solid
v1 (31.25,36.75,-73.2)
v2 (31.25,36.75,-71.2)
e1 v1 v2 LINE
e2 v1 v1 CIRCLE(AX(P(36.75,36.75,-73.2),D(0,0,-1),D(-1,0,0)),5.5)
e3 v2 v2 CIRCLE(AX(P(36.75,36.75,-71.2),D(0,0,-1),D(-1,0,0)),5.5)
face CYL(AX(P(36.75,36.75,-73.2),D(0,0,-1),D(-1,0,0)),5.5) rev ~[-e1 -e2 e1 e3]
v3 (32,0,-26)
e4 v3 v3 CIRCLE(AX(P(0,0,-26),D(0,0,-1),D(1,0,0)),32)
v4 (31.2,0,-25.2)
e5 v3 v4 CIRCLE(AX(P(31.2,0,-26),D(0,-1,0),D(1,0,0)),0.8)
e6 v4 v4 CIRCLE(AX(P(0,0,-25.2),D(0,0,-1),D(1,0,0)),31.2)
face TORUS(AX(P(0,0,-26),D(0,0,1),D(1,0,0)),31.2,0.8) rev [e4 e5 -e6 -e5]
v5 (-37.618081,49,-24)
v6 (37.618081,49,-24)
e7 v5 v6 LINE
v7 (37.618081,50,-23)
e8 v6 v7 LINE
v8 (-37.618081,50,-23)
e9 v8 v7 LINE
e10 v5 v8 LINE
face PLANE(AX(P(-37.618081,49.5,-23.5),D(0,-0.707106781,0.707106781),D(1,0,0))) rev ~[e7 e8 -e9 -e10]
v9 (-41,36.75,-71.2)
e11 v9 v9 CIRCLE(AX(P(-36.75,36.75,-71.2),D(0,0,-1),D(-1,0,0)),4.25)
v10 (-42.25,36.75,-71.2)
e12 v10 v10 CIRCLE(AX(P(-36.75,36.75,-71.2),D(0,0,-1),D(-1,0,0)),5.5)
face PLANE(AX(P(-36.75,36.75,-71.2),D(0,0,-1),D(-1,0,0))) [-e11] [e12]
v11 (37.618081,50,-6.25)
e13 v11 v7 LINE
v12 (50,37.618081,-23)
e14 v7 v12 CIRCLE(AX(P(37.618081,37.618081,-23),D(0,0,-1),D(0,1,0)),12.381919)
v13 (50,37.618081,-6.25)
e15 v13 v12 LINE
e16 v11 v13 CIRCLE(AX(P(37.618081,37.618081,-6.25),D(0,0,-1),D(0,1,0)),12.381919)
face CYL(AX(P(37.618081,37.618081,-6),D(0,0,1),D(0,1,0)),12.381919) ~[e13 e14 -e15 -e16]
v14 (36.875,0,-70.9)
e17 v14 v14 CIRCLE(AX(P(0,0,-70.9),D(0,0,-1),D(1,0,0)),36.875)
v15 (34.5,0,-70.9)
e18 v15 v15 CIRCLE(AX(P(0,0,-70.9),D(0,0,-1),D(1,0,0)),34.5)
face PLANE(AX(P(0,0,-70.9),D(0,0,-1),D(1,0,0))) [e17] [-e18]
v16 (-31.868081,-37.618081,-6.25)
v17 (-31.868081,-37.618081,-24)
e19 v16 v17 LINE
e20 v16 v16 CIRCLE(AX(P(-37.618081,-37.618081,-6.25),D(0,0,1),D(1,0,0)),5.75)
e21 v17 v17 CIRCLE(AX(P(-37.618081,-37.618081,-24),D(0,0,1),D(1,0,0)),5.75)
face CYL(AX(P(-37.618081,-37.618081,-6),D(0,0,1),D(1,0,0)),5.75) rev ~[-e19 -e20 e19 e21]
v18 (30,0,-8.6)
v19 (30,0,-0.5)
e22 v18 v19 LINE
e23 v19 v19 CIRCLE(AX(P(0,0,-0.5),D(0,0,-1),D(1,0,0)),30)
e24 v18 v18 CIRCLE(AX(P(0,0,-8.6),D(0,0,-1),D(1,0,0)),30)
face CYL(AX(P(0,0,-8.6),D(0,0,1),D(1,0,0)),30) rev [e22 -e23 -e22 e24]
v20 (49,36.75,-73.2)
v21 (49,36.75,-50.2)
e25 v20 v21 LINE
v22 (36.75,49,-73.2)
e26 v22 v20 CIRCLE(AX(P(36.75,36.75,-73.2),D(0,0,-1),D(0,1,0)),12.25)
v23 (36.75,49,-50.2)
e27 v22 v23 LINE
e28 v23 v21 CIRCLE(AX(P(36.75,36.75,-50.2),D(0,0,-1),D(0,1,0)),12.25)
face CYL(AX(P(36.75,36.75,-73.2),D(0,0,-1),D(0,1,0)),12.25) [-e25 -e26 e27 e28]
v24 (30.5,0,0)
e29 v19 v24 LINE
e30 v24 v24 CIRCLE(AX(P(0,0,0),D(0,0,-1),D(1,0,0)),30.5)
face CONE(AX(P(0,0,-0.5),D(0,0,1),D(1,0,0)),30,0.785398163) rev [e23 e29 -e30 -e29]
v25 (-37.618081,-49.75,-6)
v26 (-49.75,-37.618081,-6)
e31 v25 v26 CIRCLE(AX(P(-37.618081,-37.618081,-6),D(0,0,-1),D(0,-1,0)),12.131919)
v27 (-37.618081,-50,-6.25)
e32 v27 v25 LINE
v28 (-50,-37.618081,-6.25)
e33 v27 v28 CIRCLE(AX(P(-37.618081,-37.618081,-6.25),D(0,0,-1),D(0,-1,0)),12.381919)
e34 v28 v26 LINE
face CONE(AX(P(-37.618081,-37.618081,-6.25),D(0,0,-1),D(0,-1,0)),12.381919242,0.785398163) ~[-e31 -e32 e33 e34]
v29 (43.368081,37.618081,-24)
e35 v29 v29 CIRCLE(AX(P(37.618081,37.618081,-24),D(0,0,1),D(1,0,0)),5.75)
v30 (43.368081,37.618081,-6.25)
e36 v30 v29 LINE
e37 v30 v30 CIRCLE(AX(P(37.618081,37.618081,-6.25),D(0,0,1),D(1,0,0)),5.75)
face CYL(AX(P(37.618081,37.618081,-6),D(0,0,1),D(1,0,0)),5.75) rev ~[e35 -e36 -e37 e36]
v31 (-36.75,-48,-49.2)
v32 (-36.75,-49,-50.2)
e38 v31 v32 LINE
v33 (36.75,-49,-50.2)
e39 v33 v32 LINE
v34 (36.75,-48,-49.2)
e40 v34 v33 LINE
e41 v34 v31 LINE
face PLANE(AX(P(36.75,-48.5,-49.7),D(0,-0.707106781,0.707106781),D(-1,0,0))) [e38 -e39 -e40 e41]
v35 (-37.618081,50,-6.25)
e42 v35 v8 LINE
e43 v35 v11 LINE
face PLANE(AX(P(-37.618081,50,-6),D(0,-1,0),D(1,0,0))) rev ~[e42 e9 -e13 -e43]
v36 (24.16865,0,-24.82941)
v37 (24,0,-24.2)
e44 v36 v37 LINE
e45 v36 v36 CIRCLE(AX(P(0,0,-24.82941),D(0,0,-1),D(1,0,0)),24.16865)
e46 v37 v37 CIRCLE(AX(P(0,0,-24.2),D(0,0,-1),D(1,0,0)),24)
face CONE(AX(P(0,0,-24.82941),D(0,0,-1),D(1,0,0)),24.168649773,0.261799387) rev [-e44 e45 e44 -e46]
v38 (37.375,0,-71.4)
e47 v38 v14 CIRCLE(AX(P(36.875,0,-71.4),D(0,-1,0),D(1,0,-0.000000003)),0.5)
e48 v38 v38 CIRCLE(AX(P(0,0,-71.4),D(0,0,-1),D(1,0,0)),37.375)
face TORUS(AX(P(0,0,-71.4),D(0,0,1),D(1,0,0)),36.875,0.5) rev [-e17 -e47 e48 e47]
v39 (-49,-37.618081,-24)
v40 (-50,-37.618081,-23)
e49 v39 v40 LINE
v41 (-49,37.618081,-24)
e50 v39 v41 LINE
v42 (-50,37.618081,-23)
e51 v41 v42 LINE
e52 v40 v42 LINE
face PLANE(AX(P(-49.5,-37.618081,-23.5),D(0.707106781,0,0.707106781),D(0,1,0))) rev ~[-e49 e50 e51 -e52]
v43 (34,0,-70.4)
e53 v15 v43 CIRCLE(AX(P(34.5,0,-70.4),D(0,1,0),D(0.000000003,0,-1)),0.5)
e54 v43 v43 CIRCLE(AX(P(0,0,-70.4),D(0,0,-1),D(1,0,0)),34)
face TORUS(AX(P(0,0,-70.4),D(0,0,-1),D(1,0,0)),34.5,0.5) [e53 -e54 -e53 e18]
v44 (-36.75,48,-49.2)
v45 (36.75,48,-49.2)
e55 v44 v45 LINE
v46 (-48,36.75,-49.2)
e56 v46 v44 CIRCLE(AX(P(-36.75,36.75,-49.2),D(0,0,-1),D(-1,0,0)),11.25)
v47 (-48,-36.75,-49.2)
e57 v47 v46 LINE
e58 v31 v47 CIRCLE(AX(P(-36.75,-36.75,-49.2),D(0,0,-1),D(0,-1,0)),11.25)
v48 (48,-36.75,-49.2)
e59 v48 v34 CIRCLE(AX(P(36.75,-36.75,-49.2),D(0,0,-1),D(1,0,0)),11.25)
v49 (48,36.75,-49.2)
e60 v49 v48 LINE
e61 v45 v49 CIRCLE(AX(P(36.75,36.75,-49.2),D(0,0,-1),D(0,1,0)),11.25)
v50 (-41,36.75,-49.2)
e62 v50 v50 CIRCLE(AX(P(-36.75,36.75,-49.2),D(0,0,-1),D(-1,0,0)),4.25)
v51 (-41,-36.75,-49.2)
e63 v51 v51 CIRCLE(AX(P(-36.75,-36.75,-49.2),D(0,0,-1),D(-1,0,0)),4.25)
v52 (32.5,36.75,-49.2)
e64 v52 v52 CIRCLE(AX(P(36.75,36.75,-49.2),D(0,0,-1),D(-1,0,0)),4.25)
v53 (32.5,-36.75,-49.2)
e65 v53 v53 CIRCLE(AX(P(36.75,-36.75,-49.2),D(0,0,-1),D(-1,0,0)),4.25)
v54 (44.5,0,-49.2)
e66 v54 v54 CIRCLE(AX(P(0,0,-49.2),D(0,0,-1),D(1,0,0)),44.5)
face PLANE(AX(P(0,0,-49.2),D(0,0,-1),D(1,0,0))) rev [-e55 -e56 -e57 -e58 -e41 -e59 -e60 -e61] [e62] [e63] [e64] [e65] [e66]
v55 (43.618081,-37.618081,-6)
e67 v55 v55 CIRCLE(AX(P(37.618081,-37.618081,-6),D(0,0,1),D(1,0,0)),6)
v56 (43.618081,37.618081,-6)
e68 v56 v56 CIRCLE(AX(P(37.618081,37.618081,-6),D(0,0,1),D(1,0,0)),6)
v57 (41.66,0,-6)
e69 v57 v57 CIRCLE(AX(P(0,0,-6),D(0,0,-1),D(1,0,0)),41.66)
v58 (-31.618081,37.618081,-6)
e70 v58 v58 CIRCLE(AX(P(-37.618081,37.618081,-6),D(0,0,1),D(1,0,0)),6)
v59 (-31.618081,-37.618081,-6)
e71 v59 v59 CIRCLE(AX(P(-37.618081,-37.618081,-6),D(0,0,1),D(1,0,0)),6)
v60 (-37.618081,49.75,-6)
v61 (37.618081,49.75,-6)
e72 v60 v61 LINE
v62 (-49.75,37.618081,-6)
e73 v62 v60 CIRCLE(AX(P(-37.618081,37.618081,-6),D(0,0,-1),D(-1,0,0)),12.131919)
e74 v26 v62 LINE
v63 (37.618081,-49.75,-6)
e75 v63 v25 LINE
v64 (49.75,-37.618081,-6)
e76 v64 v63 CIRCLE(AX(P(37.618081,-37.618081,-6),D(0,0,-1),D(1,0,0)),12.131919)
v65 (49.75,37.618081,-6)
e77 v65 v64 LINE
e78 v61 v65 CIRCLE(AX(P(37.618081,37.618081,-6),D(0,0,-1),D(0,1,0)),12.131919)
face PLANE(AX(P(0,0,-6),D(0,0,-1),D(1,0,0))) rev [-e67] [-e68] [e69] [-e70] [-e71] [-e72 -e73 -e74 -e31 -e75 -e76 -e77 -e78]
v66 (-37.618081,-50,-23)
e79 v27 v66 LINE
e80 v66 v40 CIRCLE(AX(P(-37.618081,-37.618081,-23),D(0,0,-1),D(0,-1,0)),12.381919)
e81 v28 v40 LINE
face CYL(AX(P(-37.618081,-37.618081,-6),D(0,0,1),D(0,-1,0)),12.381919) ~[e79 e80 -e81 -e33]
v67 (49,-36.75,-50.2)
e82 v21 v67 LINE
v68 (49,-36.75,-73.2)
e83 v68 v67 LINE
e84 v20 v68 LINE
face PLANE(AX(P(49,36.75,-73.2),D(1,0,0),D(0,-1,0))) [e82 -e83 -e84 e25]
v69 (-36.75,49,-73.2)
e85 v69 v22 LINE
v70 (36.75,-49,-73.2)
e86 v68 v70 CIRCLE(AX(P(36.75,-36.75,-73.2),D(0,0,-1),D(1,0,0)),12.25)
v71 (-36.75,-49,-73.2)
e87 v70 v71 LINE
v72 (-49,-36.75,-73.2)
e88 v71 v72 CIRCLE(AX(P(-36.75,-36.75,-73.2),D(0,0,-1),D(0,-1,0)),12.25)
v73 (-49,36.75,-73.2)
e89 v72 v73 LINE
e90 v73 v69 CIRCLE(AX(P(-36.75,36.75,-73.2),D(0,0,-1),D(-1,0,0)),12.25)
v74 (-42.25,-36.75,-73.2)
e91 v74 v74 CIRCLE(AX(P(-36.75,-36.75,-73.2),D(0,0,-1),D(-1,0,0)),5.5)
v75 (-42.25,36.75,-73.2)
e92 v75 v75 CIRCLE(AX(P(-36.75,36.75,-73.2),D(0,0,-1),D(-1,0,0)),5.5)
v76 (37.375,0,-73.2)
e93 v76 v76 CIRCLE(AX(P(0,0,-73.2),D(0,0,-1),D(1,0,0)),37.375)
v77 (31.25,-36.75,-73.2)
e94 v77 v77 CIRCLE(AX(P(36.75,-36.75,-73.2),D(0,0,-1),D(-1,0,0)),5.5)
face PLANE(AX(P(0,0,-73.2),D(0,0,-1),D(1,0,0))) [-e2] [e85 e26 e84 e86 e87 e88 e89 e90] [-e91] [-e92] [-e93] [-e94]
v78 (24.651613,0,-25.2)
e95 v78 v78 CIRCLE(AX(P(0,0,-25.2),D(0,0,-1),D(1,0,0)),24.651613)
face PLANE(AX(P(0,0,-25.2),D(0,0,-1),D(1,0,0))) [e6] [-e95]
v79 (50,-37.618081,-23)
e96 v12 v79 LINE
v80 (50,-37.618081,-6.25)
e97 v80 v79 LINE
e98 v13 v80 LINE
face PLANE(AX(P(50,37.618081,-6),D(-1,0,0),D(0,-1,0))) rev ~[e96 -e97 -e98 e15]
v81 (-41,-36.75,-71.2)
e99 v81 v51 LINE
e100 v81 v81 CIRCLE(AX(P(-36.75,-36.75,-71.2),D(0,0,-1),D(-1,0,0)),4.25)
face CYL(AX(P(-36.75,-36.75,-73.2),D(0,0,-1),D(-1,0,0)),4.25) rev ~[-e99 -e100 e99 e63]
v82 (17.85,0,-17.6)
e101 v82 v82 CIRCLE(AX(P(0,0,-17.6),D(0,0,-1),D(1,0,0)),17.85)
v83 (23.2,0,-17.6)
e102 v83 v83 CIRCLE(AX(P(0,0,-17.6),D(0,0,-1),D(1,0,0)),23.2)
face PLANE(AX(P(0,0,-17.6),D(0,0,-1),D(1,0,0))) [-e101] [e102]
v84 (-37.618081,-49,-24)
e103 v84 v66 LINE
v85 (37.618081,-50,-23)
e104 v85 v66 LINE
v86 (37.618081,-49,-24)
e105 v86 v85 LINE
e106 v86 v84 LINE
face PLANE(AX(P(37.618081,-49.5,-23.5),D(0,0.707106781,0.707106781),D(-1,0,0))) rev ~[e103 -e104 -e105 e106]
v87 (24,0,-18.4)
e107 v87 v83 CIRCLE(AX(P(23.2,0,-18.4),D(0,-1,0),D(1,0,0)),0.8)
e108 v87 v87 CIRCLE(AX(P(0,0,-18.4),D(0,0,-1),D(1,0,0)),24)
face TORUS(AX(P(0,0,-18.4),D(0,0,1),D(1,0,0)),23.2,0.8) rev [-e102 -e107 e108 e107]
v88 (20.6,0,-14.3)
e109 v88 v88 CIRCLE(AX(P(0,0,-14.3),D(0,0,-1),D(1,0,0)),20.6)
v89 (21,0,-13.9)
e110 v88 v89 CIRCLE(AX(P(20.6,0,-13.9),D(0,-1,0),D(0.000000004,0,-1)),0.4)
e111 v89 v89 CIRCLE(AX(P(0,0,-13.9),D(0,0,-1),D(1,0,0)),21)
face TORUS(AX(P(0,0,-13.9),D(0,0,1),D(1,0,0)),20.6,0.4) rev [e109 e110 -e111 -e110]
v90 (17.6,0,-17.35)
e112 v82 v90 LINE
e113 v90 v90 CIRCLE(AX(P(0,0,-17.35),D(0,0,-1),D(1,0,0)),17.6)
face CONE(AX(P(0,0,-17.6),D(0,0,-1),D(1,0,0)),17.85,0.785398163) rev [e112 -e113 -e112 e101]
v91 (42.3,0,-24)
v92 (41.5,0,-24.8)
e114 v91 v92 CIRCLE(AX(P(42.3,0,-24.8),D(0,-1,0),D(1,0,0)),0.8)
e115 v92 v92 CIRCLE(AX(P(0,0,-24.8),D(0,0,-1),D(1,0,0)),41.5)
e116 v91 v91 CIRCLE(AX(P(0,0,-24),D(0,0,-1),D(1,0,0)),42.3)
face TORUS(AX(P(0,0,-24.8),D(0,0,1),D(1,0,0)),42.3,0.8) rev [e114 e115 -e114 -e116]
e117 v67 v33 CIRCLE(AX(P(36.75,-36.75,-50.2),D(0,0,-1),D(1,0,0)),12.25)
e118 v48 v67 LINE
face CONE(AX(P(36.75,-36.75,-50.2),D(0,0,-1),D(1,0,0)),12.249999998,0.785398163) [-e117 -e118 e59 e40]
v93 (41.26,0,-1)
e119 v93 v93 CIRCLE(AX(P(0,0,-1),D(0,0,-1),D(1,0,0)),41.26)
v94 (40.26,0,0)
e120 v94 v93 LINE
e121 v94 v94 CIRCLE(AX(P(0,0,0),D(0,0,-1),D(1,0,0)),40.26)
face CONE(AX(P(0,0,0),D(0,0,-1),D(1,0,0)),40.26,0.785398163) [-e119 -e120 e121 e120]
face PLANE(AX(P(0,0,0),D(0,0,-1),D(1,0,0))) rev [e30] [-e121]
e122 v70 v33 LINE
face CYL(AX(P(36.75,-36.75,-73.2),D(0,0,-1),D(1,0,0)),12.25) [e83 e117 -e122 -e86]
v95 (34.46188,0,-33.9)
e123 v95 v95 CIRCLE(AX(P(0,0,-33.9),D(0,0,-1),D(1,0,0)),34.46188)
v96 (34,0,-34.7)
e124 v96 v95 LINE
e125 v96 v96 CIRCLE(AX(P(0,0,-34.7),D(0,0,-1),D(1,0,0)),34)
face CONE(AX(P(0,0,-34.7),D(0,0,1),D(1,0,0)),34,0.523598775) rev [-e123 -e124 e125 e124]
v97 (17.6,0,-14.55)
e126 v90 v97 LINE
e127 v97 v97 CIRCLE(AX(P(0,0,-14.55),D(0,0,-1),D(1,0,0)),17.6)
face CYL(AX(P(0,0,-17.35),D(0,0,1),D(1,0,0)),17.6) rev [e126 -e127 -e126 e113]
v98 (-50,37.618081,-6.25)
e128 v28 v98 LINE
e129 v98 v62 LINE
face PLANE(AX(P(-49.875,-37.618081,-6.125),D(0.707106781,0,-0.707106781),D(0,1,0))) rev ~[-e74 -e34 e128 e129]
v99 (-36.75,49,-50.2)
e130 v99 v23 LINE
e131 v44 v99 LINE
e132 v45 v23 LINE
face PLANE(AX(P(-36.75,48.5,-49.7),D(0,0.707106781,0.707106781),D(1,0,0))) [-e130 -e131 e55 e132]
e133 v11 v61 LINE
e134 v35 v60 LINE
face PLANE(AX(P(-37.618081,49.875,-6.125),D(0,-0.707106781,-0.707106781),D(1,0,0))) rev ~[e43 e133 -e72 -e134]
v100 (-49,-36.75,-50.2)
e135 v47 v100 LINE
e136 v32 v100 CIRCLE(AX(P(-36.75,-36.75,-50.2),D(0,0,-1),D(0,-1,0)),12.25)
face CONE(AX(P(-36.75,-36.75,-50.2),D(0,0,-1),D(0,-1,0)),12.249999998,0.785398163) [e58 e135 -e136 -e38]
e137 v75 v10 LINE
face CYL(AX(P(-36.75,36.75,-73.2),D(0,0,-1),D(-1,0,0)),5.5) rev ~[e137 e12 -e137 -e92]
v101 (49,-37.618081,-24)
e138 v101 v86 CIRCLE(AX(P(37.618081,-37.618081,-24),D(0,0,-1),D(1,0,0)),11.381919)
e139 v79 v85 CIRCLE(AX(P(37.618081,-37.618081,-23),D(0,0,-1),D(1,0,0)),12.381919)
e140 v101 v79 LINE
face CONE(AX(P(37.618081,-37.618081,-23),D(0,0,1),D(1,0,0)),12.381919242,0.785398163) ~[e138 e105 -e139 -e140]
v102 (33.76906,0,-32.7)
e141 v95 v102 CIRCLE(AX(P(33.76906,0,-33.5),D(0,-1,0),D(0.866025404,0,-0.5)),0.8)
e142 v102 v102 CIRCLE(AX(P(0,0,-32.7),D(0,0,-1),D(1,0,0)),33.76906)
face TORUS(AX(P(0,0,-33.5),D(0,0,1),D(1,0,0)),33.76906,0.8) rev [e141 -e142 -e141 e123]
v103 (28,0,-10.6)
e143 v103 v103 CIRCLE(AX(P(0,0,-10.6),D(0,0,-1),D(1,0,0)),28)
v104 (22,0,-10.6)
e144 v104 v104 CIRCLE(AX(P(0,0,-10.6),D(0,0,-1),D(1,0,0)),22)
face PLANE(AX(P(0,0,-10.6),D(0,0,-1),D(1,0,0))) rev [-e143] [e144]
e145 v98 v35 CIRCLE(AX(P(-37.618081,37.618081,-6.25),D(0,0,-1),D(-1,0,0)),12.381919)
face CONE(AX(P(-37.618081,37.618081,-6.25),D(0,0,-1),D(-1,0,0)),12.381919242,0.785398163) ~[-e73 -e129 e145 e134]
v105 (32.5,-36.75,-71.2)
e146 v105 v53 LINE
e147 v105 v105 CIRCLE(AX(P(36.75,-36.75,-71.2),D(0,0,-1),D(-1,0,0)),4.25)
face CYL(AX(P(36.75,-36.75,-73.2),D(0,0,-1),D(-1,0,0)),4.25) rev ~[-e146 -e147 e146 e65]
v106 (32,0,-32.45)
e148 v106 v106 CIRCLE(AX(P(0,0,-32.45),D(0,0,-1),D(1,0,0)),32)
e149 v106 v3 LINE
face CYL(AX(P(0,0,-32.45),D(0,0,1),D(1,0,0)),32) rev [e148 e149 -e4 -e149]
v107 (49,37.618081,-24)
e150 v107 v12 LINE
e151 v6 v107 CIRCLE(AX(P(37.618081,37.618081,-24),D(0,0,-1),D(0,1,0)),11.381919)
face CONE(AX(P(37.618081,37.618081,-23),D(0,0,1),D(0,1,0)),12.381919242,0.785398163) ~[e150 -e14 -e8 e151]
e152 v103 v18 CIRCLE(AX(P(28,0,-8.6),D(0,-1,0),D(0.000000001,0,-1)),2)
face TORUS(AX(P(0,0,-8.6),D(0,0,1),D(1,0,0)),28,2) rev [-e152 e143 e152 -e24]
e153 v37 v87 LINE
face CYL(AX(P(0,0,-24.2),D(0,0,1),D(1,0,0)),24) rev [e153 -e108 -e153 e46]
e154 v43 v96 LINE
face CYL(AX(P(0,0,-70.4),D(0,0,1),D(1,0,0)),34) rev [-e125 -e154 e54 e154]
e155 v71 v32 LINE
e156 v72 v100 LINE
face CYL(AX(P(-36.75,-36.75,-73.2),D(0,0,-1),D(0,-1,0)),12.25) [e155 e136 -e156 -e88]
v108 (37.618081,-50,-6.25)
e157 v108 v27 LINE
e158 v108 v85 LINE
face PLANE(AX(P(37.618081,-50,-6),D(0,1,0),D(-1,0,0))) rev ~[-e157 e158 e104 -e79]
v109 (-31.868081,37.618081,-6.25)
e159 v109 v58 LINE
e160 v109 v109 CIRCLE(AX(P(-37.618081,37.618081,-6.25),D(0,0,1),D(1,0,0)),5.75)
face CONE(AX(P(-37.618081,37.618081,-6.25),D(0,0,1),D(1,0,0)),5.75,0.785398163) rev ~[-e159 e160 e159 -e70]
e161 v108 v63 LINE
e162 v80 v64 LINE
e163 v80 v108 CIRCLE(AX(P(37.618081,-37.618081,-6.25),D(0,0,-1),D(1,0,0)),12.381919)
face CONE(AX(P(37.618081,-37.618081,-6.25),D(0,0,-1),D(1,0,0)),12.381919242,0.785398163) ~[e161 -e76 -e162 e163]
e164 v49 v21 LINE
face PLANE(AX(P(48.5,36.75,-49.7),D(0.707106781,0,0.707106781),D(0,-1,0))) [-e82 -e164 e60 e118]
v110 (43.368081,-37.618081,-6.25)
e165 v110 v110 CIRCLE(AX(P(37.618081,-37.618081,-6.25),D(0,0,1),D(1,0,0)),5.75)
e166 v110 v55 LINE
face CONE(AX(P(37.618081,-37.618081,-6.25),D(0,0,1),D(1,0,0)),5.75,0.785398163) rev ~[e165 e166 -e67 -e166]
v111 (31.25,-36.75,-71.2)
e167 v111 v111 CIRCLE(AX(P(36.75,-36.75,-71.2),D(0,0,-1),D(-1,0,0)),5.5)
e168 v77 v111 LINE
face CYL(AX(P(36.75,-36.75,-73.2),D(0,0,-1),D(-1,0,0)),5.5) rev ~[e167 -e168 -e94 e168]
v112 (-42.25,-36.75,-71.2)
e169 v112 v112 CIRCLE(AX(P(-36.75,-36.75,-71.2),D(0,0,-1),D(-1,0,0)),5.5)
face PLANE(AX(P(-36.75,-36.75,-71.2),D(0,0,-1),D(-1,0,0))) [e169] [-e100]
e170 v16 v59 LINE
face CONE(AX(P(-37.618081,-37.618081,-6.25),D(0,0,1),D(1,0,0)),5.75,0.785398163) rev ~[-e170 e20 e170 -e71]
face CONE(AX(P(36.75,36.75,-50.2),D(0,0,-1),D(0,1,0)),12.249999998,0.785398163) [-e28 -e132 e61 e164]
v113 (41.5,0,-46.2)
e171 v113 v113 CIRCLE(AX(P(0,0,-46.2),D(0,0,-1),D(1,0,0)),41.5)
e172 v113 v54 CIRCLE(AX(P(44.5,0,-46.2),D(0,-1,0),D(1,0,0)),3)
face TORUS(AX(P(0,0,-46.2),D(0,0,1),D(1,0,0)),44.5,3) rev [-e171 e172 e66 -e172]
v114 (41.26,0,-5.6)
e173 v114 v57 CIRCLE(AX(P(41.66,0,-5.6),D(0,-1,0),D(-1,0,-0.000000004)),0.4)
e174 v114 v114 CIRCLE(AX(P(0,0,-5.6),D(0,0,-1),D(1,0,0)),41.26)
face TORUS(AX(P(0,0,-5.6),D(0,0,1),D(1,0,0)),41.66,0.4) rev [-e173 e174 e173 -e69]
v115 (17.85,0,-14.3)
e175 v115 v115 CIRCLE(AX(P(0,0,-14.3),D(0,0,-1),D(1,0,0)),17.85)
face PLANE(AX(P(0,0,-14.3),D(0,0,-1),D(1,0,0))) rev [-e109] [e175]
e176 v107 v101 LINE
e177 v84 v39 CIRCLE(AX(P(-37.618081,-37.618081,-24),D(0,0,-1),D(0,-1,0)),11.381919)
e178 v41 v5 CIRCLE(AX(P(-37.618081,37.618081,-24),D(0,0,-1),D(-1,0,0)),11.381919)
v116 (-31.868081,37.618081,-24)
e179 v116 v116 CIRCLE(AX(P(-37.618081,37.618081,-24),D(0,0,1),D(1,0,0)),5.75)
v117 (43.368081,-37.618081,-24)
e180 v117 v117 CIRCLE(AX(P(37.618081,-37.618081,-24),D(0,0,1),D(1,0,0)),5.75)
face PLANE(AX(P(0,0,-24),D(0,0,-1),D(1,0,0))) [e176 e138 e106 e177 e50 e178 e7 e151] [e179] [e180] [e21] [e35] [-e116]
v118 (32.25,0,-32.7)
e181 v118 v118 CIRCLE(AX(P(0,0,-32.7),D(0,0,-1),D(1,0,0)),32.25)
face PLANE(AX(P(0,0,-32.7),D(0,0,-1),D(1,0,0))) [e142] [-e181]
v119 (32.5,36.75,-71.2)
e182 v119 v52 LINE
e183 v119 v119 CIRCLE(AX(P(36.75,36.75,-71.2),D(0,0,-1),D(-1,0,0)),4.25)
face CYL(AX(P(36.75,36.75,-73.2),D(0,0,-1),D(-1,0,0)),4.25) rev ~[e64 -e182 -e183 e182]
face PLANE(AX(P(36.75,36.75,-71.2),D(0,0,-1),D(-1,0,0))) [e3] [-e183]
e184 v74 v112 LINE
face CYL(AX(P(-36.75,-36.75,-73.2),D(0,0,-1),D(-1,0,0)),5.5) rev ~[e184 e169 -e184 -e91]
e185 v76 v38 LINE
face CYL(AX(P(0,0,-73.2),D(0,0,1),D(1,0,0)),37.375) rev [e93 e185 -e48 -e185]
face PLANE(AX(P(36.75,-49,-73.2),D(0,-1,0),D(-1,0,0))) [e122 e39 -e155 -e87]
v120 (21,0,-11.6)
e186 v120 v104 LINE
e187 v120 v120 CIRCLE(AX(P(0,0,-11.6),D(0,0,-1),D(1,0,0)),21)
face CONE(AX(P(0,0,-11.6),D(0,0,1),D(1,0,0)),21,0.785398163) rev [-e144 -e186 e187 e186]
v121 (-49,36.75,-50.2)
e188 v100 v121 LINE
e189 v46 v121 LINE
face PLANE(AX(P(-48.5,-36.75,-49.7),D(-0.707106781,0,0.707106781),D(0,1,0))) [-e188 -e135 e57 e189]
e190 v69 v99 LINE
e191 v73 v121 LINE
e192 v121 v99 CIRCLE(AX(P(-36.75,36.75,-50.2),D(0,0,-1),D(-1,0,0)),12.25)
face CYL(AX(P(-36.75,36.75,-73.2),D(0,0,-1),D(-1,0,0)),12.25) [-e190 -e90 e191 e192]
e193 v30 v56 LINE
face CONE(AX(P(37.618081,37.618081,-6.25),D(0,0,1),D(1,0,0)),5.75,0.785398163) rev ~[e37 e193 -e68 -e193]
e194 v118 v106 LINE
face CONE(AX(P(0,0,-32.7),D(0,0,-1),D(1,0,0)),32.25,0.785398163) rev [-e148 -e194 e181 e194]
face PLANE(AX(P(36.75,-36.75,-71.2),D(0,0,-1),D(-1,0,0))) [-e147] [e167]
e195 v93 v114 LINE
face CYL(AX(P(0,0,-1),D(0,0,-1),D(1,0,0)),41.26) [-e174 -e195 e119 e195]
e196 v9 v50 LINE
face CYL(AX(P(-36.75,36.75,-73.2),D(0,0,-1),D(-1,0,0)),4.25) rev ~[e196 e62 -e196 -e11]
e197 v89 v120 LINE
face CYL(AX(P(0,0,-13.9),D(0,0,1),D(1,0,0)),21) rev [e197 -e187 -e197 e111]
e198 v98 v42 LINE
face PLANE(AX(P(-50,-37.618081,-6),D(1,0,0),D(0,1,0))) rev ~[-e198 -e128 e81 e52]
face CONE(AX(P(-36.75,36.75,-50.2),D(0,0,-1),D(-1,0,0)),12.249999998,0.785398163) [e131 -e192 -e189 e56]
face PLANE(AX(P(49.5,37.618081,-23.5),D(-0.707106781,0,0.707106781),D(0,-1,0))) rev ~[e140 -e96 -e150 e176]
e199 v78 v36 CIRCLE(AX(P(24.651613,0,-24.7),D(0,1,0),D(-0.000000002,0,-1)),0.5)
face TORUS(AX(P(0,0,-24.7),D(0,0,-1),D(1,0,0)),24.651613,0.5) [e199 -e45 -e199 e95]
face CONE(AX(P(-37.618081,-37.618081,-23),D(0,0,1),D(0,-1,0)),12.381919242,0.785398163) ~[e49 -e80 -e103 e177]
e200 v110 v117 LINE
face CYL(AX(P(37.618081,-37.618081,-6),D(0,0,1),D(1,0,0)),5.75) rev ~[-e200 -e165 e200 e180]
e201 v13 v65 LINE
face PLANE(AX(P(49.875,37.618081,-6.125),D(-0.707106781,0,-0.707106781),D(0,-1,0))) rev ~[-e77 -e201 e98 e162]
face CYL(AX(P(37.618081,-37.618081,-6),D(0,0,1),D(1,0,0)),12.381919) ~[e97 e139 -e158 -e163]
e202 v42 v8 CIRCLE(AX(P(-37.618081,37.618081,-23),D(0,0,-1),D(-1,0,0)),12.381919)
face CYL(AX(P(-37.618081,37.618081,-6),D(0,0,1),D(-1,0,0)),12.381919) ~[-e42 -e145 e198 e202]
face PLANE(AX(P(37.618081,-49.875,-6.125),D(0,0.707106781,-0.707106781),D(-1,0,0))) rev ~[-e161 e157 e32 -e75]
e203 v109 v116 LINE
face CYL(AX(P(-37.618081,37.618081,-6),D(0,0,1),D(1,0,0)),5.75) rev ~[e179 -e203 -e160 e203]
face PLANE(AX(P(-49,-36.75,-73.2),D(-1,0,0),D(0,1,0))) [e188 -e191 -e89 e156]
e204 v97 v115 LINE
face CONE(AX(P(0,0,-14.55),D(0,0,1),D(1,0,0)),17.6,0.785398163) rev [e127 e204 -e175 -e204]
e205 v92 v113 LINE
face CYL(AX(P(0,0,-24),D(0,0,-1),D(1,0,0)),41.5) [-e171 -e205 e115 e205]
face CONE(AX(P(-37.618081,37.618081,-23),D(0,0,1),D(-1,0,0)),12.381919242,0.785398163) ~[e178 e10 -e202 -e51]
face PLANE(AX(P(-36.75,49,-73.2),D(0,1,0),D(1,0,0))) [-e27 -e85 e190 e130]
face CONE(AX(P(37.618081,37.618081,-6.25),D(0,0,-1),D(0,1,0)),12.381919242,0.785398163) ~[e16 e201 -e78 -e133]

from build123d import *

# Parameters (mm, degrees)
SKETCH2_OUTSIDE_W  = 177.894
SKETCH2_OUTSIDE_H  = 177.894
SKETCH2_OUTSIDE_R  = 4.25
CUT_EXTRUDE1_DEPTH = 24
SKETCH3_OUTSIDE_W  = 177.894
SKETCH3_OUTSIDE_H  = 177.894
SKETCH3_OUTSIDE_R  = 5.75
CUT_EXTRUDE2_DEPTH = 18
SKETCH4_R          = 5.5
CUT_EXTRUDE3_DEPTH = 2
FILLET4_R          = 0.8
FILLET5_R          = 3
CHAMFER1_SIZE      = 1
CHAMFER2_SIZE      = 0.25


with BuildPart() as part:
    # Sketch1 → Revolve1 (revolve)
    with BuildSketch(Plane(origin=(0, 0, 0), x_dir=(0, 0, -1), z_dir=(1, 0, 0)), mode=Mode.PRIVATE) as revolve1_sk:
        with BuildLine():
            Line((0, 30.5), (0, 40.26))
            Line((0, 40.26), (1, 41.26))
            Line((1, 41.26), (5.6, 41.26))
            ThreePointArc((5.6, 41.26), (5.882842712, 41.377157288), (6, 41.66))
            Line((6, 41.66), (6, 67.5))
            Line((6, 67.5), (24, 67.5))
            Line((24, 67.5), (24, 41.5))
            Line((24, 41.5), (49.2, 41.5))
            Line((49.2, 41.5), (49.2, 67.5))
            Line((49.2, 67.5), (73.2, 67.5))
            Line((73.2, 67.5), (73.2, 37.375))
            Line((73.2, 37.375), (71.4, 37.375))
            ThreePointArc((71.4, 37.375), (71.046446609, 37.228553391), (70.9, 36.875))
            Line((70.9, 36.875), (70.9, 34.5))
            ThreePointArc((70.9, 34.5), (70.753553391, 34.146446609), (70.4, 34))
            Line((70.4, 34), (34.7, 34))
            Line((34.7, 34), (33.9, 34.461880215))
            ThreePointArc((33.9, 34.461880215), (33.1, 34.461880215), (32.7, 33.769059892))
            Line((32.7, 33.769059892), (32.7, 32.25))
            Line((32.7, 32.25), (32.45, 32))
            Line((32.45, 32), (26, 32))
            ThreePointArc((26, 32), (25.434314575, 31.765685425), (25.2, 31.2))
            Line((25.2, 31.2), (25.2, 24.651612686))
            ThreePointArc((25.2, 24.651612686), (25.09667667, 24.347231972), (24.829409523, 24.168649773))
            Line((24.829409523, 24.168649773), (24.2, 24))
            Line((24.2, 24), (18.4, 24))
            ThreePointArc((18.4, 24), (17.834314575, 23.765685425), (17.6, 23.2))
            Line((17.6, 23.2), (17.6, 17.85))
            Line((17.6, 17.85), (17.35, 17.6))
            Line((17.35, 17.6), (14.55, 17.6))
            Line((14.55, 17.6), (14.3, 17.85))
            Line((14.3, 17.85), (14.3, 20.6))
            ThreePointArc((14.3, 20.6), (14.182842712, 20.882842712), (13.9, 21))
            Line((13.9, 21), (11.6, 21))
            Line((11.6, 21), (10.6, 22))
            Line((10.6, 22), (10.6, 28))
            ThreePointArc((10.6, 28), (10.014213562, 29.414213562), (8.6, 30))
            Line((8.6, 30), (0.5, 30))
            Line((0.5, 30), (0, 30.5))
        make_face()
    revolve(revolve1_sk.sketch.rotate(Axis((0, 0, 0), (0, 0, -1)), 90), axis=Axis((0, 0, 0), (0, 0, -1)))

    # Sketch2 outside → Cut-Extrude1 (cut)
    # profile 1 of 5: a face of its own
    with BuildSketch(Plane(origin=(0, 0, -73.2), x_dir=(-1, 0, 0), z_dir=(0, 0, -1))):
        Rectangle(SKETCH2_OUTSIDE_W, SKETCH2_OUTSIDE_H)
        with BuildLine():
            Line((36.75, 49), (-36.75, 49))
            ThreePointArc((-36.75, 49), (-45.41205807, 45.41205807), (-49, 36.75))
            Line((-49, 36.75), (-49, -36.75))
            ThreePointArc((-49, -36.75), (-45.41205807, -45.41205807), (-36.75, -49))
            Line((-36.75, -49), (36.75, -49))
            ThreePointArc((36.75, -49), (45.41205807, -45.41205807), (49, -36.75))
            Line((49, -36.75), (49, 36.75))
            ThreePointArc((49, 36.75), (45.41205807, 45.41205807), (36.75, 49))
        make_face(mode=Mode.SUBTRACT)
    # profile 2 of 5: a face of its own
    with BuildSketch(Plane(origin=(0, 0, -73.2), x_dir=(-1, 0, 0), z_dir=(0, 0, -1))):
        with Locations((-36.75, 36.75)):
            Circle(SKETCH2_OUTSIDE_R)
    # profile 3 of 5: a face of its own
    with BuildSketch(Plane(origin=(0, 0, -73.2), x_dir=(-1, 0, 0), z_dir=(0, 0, -1))):
        with Locations((36.75, 36.75)):
            Circle(SKETCH2_OUTSIDE_R)
    # profile 4 of 5: a face of its own
    with BuildSketch(Plane(origin=(0, 0, -73.2), x_dir=(-1, 0, 0), z_dir=(0, 0, -1))):
        with Locations((36.75, -36.75)):
            Circle(SKETCH2_OUTSIDE_R)
    # profile 5 of 5: a face of its own
    with BuildSketch(Plane(origin=(0, 0, -73.2), x_dir=(-1, 0, 0), z_dir=(0, 0, -1))):
        with Locations((-36.75, -36.75)):
            Circle(SKETCH2_OUTSIDE_R)
    extrude(amount=-CUT_EXTRUDE1_DEPTH, mode=Mode.SUBTRACT)

    # Sketch3 outside → Cut-Extrude2 (cut)
    # profile 1 of 5: a face of its own
    with BuildSketch(Plane.XY.offset(-6)):
        Rectangle(SKETCH3_OUTSIDE_W, SKETCH3_OUTSIDE_H)
        with BuildLine():
            Line((-37.618080759, 50), (37.618080759, 50))
            ThreePointArc((37.618080759, 50), (46.373419818, 46.373419818), (50, 37.618080759))
            Line((50, 37.618080759), (50, -37.618080759))
            ThreePointArc((50, -37.618080759), (46.373419818, -46.373419818), (37.618080759, -50))
            Line((37.618080759, -50), (-37.618080759, -50))
            ThreePointArc((-37.618080759, -50), (-46.373419818, -46.373419818), (-50, -37.618080759))
            Line((-50, -37.618080759), (-50, 37.618080759))
            ThreePointArc((-50, 37.618080759), (-46.373419818, 46.373419818), (-37.618080759, 50))
        make_face(mode=Mode.SUBTRACT)
    # profile 2 of 5: a face of its own
    with BuildSketch(Plane.XY.offset(-6)):
        with Locations((37.618080759, 37.618080759)):
            Circle(SKETCH3_OUTSIDE_R)
    # profile 3 of 5: a face of its own
    with BuildSketch(Plane.XY.offset(-6)):
        with Locations((-37.618080759, 37.618080759)):
            Circle(SKETCH3_OUTSIDE_R)
    # profile 4 of 5: a face of its own
    with BuildSketch(Plane.XY.offset(-6)):
        with Locations((-37.618080759, -37.618080759)):
            Circle(SKETCH3_OUTSIDE_R)
    # profile 5 of 5: a face of its own
    with BuildSketch(Plane.XY.offset(-6)):
        with Locations((37.618080759, -37.618080759)):
            Circle(SKETCH3_OUTSIDE_R)
    extrude(amount=-CUT_EXTRUDE2_DEPTH, mode=Mode.SUBTRACT)

    # Sketch4 → Cut-Extrude3 (cut)
    with BuildSketch(Plane(origin=(0, 0, -73.2), x_dir=(-1, 0, 0), z_dir=(0, 0, -1))):
        with Locations((-36.75, 36.75)):
            Circle(SKETCH4_R)
        with Locations((36.75, 36.75)):
            Circle(SKETCH4_R)
        with Locations((-36.75, -36.75)):
            Circle(SKETCH4_R)
        with Locations((36.75, -36.75)):
            Circle(SKETCH4_R)
    extrude(amount=-CUT_EXTRUDE3_DEPTH, mode=Mode.SUBTRACT)

    # Fillet4
    fillet4_edges = [part.edges().sort_by_distance(p)[0] for p in [
        (-41.5, 0, -24),
    ]]
    fillet(fillet4_edges, radius=FILLET4_R)

    # Fillet5
    fillet5_edges = [part.edges().sort_by_distance(p)[0] for p in [
        (-41.5, 0, -49.2),
    ]]
    fillet(fillet5_edges, radius=FILLET5_R)

    # Chamfer1
    chamfer1_edges = [part.edges().sort_by_distance(p)[0] for p in [
        (0, 49, -49.2),
        (45.41205807, 45.41205807, -49.2),
        (49, 0, -49.2),
        (45.41205807, -45.41205807, -49.2),
        (0, -49, -49.2),
        (-45.41205807, -45.41205807, -49.2),
        (-49, 0, -49.2),
        (-45.41205807, 45.41205807, -49.2),
        (-50, 0, -24),
        (-46.373419818, -46.373419818, -24),
        (0, -50, -24),
        (46.373419818, -46.373419818, -24),
        (50, 0, -24),
        (46.373419818, 46.373419818, -24),
        (0, 50, -24),
        (-46.373419818, 46.373419818, -24),
    ]]
    chamfer(chamfer1_edges, length=CHAMFER1_SIZE)

    # Chamfer2
    chamfer2_edges = [part.edges().sort_by_distance(p)[0] for p in [
        (31.868080759, 37.618080759, -6),
        (-43.368080759, 37.618080759, -6),
        (-43.368080759, -37.618080759, -6),
        (31.868080759, -37.618080759, -6),
        (-50, 0, -6),
        (-46.373419818, -46.373419818, -6),
        (0, -50, -6),
        (46.373419818, -46.373419818, -6),
        (50, 0, -6),
        (46.373419818, 46.373419818, -6),
        (0, 50, -6),
        (-46.373419818, 46.373419818, -6),
    ]]
    chamfer(chamfer2_edges, length=CHAMFER2_SIZE)


solid = part.part
